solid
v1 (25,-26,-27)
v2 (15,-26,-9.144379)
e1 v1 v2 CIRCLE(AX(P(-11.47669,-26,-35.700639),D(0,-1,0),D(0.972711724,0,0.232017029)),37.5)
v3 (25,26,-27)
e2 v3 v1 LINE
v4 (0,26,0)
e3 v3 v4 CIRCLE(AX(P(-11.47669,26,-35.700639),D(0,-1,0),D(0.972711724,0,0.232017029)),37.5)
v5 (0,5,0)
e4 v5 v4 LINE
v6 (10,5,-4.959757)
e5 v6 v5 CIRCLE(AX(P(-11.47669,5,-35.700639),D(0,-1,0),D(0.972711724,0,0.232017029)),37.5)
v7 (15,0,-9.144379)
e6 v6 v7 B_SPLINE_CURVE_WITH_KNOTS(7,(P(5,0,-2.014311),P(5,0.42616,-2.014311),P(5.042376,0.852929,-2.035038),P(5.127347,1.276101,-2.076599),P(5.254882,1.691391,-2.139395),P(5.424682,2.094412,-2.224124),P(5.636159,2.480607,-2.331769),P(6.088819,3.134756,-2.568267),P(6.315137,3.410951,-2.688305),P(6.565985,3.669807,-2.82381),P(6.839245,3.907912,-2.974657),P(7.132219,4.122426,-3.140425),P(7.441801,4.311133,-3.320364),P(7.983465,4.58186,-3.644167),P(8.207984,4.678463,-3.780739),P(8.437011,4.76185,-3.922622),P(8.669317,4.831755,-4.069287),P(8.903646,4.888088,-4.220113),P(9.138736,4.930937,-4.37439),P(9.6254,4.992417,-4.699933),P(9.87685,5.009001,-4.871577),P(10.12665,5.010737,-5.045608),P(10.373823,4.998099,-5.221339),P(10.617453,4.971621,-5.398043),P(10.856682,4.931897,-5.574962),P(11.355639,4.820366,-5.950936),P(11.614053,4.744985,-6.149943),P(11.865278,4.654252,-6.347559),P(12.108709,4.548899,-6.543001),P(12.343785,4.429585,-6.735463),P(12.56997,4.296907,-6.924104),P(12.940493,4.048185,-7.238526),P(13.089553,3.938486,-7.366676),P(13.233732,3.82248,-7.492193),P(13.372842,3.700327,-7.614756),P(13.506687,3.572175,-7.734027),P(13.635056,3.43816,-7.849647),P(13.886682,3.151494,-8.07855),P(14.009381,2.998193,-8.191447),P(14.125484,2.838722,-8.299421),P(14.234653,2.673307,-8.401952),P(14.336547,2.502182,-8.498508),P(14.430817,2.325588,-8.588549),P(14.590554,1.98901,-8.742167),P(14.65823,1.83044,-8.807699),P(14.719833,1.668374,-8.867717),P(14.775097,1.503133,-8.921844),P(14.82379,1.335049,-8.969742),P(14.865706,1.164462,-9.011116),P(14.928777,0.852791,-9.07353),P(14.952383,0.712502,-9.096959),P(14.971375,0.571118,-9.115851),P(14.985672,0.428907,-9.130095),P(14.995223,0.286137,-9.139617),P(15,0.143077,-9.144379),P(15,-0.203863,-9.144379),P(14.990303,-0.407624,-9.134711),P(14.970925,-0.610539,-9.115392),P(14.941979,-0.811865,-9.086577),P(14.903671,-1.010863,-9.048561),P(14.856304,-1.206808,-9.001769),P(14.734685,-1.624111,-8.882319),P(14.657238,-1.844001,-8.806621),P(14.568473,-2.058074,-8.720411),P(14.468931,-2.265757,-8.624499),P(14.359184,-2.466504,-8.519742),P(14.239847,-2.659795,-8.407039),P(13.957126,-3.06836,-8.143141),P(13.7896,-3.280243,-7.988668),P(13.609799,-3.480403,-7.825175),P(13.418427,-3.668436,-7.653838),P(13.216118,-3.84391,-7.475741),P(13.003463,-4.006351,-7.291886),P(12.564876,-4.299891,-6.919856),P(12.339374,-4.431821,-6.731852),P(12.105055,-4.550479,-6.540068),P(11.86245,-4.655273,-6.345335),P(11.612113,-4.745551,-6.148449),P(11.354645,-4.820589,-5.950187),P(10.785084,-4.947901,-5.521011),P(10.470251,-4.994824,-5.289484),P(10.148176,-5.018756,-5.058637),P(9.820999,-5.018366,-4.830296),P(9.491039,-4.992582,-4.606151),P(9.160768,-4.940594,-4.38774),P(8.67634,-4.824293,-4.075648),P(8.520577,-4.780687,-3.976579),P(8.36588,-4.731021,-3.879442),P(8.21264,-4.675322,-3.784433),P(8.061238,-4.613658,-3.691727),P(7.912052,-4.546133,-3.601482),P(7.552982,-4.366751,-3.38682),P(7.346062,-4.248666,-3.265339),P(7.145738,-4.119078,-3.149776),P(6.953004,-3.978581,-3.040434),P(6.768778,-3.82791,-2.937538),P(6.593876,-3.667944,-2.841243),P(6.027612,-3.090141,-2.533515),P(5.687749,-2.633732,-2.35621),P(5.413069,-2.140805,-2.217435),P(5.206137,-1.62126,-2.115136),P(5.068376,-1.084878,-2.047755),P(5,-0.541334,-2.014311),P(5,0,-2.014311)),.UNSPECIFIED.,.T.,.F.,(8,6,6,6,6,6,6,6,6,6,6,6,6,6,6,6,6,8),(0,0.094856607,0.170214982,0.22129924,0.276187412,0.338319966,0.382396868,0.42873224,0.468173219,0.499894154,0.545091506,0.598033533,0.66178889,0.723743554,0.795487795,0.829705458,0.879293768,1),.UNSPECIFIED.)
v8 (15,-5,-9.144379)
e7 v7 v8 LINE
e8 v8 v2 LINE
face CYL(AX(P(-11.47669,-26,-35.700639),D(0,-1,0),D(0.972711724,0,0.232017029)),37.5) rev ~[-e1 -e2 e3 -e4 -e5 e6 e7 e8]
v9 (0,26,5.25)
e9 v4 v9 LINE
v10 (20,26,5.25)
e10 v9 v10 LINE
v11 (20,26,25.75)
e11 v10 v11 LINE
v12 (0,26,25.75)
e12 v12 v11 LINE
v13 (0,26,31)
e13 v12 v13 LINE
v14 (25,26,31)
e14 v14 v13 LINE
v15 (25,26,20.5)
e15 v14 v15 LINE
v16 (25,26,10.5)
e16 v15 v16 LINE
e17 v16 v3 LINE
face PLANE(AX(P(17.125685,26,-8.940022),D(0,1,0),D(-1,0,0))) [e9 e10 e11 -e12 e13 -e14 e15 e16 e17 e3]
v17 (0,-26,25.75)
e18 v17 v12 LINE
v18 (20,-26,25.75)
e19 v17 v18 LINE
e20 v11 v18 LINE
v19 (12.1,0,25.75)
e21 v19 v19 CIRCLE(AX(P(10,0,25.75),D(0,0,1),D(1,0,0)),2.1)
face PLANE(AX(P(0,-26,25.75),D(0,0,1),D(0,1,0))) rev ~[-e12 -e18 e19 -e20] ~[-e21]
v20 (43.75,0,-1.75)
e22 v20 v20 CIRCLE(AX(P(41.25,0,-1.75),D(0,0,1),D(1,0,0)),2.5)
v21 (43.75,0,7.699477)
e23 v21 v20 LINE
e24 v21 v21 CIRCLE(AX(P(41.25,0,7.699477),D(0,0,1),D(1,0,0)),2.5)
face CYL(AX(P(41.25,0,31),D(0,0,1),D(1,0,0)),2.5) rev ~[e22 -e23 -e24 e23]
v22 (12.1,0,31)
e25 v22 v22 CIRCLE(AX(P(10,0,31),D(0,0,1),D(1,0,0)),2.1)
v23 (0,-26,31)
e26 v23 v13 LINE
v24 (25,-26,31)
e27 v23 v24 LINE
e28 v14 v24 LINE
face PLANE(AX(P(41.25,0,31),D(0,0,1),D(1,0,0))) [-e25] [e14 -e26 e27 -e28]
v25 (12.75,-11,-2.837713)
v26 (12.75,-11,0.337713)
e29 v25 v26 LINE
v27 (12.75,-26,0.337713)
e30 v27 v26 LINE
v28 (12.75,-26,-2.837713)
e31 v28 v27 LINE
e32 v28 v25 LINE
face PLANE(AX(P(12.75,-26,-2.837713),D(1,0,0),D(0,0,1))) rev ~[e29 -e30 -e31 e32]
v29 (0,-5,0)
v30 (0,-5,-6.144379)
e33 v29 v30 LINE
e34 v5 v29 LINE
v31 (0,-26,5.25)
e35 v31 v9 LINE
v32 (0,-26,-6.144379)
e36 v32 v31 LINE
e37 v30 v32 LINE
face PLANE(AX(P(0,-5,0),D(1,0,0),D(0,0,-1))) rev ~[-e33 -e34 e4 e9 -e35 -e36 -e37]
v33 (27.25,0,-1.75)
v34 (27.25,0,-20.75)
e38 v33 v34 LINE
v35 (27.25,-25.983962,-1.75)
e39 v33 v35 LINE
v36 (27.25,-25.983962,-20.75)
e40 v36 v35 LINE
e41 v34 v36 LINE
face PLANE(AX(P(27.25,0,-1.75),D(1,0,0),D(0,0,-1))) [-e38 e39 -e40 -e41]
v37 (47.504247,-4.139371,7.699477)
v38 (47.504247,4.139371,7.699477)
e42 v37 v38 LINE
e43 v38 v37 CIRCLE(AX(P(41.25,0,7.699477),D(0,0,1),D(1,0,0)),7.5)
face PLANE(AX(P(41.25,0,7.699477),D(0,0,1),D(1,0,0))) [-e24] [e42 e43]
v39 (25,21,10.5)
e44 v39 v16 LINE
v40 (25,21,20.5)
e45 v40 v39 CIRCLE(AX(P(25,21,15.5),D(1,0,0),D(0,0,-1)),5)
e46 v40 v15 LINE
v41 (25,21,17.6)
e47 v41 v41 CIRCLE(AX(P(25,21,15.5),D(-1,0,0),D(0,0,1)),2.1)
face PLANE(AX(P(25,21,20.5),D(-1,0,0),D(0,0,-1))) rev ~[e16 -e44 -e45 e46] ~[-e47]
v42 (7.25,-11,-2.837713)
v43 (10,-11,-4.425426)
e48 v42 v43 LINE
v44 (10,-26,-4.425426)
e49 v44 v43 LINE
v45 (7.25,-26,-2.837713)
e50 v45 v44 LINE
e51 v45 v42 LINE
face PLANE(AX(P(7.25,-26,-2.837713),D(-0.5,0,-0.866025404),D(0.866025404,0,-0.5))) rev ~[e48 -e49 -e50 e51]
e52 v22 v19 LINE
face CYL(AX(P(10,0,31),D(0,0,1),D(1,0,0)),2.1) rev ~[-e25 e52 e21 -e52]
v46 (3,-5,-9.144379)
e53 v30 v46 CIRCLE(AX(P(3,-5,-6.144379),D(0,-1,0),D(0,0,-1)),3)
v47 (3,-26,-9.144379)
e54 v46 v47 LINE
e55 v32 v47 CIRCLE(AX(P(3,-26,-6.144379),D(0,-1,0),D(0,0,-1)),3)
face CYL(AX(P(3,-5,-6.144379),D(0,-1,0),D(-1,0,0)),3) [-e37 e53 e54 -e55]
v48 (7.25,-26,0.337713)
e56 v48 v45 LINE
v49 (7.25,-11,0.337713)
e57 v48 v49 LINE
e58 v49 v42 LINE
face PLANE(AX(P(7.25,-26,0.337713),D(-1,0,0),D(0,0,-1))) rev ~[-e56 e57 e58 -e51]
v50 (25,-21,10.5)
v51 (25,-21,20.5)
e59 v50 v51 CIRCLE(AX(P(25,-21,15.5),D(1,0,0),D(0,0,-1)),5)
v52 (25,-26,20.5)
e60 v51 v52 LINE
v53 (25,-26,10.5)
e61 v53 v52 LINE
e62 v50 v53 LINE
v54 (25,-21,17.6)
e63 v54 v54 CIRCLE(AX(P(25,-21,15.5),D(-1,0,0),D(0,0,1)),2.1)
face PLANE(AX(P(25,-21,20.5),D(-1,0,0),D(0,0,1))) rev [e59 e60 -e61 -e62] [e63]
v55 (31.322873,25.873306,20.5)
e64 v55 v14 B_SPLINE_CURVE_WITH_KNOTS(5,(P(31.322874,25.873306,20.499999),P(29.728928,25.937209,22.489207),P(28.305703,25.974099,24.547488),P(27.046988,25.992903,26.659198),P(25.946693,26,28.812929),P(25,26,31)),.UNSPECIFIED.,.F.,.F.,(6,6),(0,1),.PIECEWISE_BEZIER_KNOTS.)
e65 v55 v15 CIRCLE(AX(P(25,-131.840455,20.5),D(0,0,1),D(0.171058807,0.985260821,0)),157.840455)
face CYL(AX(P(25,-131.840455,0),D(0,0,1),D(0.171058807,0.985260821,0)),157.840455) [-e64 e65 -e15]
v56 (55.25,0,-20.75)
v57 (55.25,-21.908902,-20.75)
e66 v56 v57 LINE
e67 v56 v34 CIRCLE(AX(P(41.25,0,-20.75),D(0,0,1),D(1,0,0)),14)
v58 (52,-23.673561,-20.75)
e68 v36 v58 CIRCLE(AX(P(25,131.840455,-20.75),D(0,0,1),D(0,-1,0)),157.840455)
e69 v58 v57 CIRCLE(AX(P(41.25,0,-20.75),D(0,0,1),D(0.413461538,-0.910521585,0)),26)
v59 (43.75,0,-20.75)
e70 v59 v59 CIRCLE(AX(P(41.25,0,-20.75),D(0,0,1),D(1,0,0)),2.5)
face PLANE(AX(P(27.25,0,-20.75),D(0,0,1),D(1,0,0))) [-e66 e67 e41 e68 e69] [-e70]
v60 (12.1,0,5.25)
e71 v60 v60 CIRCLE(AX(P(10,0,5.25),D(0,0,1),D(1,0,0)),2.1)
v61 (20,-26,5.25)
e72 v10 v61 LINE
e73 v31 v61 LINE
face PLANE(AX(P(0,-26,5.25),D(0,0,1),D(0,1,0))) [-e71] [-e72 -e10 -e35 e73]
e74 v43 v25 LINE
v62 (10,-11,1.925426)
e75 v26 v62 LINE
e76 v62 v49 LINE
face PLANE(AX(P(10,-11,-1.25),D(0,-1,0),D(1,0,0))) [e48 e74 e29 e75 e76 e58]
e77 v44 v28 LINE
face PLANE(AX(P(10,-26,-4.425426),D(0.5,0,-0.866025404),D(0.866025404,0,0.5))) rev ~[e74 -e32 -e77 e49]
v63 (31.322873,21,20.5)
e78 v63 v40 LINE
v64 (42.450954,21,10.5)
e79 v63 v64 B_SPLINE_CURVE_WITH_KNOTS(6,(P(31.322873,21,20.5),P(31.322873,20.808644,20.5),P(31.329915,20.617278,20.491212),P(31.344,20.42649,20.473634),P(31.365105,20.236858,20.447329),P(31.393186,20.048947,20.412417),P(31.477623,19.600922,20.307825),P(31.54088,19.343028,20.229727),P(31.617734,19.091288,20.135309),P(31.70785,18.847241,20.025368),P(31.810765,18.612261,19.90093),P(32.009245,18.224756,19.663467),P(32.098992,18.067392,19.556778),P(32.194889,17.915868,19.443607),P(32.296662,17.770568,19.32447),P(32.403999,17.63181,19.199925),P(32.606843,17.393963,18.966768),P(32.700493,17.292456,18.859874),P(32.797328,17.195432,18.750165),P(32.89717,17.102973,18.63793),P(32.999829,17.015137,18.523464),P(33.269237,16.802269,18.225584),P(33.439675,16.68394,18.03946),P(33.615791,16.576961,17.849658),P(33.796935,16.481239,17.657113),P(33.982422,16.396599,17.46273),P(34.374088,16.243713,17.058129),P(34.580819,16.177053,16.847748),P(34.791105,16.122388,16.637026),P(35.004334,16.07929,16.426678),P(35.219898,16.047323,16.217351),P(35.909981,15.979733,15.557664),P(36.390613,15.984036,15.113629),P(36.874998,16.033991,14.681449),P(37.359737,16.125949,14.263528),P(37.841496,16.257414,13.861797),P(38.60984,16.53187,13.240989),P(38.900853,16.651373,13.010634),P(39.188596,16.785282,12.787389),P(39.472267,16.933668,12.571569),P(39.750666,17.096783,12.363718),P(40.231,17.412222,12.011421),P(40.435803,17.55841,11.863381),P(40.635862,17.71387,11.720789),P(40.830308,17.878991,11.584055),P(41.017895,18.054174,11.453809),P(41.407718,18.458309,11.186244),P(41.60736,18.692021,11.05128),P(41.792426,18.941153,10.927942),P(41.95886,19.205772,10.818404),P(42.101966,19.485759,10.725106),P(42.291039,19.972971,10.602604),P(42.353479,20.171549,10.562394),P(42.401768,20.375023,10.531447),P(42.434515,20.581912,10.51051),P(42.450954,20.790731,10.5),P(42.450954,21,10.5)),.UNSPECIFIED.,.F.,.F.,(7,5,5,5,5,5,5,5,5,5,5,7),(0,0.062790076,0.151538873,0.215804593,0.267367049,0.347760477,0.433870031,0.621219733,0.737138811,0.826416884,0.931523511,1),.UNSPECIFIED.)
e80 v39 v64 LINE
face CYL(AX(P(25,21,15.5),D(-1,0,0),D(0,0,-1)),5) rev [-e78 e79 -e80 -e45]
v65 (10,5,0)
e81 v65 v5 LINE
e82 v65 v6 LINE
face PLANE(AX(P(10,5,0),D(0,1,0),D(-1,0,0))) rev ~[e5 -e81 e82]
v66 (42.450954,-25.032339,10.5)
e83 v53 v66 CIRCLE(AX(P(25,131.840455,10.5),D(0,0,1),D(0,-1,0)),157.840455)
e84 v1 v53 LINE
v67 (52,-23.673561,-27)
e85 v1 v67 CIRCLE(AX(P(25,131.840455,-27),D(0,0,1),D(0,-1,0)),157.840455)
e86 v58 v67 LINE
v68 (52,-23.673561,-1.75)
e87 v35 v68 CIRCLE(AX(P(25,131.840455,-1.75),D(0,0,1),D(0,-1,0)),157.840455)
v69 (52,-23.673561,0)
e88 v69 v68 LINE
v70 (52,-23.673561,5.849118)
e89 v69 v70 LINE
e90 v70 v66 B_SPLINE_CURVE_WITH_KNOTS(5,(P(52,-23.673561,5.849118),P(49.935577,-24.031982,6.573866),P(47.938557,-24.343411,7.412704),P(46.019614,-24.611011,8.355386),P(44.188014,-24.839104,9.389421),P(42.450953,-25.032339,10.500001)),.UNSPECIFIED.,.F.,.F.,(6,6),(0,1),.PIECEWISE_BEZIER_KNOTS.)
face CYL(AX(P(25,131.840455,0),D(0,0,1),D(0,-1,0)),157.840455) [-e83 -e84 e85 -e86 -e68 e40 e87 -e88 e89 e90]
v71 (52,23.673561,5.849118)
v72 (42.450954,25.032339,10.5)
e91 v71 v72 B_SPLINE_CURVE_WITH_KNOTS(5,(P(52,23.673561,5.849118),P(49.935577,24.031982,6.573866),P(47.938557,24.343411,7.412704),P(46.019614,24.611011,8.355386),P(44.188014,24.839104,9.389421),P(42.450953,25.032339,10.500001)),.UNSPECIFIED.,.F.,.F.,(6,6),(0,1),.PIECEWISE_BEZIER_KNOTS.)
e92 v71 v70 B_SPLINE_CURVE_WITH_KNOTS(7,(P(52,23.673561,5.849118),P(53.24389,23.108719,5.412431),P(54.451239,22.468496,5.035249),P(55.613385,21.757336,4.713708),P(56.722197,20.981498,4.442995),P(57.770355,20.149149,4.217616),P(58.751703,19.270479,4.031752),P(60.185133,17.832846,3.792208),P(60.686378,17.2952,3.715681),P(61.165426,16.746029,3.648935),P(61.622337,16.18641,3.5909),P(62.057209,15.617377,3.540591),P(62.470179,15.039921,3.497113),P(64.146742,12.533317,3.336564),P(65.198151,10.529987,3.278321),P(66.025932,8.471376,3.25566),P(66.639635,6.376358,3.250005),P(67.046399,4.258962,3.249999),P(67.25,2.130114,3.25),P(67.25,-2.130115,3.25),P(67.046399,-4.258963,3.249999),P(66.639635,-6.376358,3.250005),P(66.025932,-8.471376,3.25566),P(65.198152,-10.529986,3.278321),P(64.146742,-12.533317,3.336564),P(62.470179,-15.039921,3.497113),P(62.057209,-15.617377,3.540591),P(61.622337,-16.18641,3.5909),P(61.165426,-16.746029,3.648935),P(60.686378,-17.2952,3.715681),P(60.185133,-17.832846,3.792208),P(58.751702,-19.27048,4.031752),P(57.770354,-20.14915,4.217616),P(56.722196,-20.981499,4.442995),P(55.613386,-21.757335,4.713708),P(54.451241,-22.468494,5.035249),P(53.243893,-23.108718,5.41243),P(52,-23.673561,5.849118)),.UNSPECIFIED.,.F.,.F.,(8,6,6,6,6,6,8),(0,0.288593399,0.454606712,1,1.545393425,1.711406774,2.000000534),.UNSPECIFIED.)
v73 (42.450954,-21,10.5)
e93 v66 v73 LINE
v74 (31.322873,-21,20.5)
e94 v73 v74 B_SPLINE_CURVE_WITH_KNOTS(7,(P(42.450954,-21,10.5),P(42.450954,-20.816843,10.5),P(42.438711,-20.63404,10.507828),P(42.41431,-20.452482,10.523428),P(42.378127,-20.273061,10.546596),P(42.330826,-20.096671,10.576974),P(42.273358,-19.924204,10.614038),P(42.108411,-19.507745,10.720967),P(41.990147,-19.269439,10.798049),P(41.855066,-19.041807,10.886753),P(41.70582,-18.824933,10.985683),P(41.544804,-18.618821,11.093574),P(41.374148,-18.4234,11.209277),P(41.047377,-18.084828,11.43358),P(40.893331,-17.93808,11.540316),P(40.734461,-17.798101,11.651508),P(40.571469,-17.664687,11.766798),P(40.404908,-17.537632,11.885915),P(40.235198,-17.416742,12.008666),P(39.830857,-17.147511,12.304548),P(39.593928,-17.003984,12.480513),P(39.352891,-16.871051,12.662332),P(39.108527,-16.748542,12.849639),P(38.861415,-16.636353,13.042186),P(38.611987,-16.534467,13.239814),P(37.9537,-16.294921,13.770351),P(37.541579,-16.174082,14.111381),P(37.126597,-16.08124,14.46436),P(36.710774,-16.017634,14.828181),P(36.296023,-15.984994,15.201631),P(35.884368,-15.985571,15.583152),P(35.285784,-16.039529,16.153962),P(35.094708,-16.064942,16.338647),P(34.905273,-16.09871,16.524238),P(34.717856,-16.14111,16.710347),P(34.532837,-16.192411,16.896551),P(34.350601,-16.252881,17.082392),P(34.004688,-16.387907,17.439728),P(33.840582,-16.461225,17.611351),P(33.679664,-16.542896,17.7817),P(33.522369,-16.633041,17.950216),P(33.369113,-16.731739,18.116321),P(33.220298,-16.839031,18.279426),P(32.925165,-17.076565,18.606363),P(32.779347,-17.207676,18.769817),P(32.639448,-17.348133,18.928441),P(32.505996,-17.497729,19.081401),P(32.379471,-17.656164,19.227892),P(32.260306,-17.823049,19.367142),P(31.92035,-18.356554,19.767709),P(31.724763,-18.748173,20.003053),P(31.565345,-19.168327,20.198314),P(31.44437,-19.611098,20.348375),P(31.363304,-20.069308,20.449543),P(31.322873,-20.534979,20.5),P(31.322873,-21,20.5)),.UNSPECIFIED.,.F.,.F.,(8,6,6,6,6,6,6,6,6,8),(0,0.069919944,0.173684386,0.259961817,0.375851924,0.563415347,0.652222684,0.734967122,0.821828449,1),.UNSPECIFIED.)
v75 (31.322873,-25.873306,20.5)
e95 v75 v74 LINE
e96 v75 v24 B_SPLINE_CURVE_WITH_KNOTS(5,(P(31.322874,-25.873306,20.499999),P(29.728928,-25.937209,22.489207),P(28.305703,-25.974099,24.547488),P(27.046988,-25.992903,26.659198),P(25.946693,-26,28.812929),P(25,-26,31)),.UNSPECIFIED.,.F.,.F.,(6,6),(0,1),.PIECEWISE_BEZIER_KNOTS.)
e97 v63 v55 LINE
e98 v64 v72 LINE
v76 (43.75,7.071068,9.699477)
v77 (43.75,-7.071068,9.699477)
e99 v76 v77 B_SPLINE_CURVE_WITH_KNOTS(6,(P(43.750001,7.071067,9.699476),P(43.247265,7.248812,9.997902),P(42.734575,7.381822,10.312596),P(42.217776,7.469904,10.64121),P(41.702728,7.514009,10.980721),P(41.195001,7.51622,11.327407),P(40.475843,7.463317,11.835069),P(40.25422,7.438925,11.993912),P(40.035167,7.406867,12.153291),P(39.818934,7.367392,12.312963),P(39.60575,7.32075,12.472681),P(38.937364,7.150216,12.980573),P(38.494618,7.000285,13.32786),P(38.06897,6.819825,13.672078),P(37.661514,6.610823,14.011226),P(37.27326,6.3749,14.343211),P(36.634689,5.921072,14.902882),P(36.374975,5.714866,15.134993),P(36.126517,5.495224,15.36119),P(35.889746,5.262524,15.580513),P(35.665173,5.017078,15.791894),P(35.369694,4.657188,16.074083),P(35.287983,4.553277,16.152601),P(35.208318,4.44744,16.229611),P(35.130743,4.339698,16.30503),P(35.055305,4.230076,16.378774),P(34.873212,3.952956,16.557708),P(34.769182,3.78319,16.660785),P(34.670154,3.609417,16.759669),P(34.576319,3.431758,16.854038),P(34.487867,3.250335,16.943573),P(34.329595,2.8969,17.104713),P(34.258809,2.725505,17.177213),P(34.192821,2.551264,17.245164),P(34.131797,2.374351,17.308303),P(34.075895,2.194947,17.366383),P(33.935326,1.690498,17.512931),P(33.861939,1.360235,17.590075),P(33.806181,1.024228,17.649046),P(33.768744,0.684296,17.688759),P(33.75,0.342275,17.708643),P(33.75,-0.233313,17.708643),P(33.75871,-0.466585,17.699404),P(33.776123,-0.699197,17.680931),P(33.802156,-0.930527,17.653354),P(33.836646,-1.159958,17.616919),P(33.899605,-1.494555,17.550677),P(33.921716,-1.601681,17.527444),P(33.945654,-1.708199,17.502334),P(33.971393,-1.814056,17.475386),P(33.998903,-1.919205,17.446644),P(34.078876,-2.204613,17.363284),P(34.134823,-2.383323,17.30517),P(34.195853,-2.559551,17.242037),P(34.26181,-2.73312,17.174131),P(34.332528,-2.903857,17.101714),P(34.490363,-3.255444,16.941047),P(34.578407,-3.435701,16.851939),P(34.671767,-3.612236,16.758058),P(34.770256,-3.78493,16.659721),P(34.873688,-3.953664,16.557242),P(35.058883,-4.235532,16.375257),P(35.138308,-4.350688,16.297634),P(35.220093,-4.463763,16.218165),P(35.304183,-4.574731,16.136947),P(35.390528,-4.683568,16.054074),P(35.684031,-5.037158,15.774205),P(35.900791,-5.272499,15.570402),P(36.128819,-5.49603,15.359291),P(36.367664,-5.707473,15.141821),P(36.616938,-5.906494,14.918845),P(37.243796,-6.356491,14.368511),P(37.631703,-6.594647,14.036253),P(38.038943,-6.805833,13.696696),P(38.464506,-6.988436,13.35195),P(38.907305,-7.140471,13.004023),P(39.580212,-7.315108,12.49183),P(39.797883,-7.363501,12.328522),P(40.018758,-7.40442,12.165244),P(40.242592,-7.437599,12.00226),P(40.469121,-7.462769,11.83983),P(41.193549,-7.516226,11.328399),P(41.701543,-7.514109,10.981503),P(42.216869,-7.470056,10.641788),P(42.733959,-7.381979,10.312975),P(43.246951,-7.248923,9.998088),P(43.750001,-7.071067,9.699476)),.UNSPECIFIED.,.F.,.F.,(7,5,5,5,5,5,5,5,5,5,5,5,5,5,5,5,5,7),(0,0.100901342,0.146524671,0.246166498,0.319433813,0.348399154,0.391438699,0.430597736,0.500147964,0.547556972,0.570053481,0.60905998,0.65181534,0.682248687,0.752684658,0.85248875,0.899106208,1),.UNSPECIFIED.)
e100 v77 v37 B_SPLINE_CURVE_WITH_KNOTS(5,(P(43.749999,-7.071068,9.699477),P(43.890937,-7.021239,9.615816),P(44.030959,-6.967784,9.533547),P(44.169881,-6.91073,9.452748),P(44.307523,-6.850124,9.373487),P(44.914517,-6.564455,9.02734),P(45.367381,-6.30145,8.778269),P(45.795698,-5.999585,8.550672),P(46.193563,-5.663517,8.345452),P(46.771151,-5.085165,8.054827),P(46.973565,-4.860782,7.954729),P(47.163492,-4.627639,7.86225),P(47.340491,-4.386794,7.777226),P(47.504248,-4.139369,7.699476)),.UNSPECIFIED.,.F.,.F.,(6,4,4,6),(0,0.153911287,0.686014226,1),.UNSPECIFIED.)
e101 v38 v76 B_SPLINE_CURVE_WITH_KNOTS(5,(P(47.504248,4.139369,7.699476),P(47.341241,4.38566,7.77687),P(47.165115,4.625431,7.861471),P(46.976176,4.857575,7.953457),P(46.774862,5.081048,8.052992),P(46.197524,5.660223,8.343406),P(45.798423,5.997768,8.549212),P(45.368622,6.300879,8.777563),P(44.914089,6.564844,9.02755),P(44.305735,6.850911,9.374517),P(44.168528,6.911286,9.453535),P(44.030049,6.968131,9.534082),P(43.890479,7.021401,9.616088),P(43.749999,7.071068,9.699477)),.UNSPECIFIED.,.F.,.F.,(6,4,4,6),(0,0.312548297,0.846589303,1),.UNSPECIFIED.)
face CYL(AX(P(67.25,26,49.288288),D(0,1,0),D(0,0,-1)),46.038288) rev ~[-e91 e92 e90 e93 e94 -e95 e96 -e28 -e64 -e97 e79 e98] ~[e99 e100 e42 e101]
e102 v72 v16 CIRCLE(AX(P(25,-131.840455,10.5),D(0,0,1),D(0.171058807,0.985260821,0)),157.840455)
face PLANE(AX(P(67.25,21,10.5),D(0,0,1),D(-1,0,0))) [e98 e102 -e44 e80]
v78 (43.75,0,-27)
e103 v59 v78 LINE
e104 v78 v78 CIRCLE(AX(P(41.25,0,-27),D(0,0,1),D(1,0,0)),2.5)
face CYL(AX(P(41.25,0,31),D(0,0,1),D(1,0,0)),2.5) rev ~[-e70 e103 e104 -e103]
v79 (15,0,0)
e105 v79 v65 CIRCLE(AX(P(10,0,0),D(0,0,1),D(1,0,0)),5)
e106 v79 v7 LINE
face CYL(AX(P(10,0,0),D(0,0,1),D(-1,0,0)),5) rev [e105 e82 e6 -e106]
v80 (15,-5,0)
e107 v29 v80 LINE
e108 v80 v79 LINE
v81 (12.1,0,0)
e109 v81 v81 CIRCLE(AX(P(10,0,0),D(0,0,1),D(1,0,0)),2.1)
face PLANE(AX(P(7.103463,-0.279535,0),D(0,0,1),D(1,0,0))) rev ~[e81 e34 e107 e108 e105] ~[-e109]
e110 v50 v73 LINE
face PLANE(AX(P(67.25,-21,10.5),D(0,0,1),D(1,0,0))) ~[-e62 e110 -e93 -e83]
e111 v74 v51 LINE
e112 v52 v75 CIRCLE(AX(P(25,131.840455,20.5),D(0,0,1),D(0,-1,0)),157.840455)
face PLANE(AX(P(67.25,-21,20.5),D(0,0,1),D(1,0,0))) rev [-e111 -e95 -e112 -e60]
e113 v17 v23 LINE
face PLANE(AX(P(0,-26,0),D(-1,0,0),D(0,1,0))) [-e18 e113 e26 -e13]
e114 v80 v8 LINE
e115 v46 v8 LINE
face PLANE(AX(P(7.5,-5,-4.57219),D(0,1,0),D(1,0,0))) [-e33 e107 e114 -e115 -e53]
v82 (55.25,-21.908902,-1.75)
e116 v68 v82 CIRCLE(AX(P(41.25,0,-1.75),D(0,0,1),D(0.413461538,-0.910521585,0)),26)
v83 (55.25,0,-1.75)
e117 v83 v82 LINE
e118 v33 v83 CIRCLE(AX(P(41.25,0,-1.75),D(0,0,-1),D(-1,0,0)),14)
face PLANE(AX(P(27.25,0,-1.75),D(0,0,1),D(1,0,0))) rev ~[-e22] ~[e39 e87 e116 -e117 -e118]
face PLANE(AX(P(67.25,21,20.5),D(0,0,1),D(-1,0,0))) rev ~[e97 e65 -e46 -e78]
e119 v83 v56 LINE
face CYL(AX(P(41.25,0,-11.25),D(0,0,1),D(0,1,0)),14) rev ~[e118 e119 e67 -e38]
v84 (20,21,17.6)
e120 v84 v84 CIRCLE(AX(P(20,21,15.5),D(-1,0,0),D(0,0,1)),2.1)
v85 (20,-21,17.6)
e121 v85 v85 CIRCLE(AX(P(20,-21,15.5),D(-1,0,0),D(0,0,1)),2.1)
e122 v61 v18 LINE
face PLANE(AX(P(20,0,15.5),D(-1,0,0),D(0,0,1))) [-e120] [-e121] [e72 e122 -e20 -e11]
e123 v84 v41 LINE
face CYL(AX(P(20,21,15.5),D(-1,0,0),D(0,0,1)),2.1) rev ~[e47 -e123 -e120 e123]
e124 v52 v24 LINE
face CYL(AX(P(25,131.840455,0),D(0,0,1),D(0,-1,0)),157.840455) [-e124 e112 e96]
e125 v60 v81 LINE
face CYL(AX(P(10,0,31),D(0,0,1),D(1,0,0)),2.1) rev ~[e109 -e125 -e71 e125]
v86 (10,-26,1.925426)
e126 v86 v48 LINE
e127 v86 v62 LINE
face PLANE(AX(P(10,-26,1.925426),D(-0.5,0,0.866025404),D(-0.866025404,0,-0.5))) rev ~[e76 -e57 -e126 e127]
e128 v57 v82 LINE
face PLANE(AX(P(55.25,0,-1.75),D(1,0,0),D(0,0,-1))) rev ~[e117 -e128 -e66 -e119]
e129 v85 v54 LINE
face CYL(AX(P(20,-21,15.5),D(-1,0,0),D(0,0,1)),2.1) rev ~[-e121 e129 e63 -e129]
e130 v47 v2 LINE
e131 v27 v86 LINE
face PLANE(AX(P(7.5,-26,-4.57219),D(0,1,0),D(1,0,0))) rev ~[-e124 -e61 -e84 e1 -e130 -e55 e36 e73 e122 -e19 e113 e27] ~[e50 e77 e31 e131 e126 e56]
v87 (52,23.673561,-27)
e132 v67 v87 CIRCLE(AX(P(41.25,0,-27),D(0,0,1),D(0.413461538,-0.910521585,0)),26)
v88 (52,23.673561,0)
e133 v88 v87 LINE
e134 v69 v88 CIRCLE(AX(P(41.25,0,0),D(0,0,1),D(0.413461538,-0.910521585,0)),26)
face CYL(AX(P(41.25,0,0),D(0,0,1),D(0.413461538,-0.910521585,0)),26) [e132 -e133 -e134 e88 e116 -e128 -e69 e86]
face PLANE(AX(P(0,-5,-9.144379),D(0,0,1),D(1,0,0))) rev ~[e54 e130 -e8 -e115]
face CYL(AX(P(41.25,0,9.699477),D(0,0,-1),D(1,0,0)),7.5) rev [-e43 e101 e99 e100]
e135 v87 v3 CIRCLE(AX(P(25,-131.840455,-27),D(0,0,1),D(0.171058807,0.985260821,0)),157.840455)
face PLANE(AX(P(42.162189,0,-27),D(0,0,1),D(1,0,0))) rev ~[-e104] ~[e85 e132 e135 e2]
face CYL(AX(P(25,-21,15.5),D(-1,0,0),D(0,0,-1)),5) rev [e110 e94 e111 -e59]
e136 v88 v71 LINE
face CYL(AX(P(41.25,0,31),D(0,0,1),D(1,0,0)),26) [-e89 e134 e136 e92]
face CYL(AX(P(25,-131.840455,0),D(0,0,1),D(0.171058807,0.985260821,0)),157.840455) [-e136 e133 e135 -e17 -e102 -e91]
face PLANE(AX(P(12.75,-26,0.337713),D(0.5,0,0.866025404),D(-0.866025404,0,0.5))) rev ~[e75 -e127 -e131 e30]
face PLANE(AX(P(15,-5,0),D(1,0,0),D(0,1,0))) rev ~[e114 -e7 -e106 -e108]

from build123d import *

# Parameters (mm, degrees)
SKETCH_1_W              = 52
SKETCH_1_H              = 52
EXTRUDE_1_DEPTH         = 31
SKETCH_2_W              = 20.5
SKETCH_2_H              = 52
CUT_EXTRUDE_1_DEPTH     = 20
SKETCH_5_R              = 26
EXTRUDE_2_DEPTH         = 31
CUT_EXTRUDE_2_DEPTH     = 32
SKETCH_7_W              = 20
SKETCH_7_H              = 20.5
CUT_EXTRUDE_3_DEPTH     = 53
EXTRUDE_3_DEPTH         = 27
SKETCH_10_W             = 19
SKETCH_10_H             = 14
SKETCH_11_W             = 19
SKETCH_11_H             = 28
CUT_EXTRUDE_4_DEPTH     = 27
EXTRUDE_4_DEPTH         = 52
SKETCH_13_R             = 2.1
CUT_EXTRUDE_5_DEPTH     = 59
SKETCH_14_R             = 2.1
CUT_EXTRUDE_6_DEPTH     = 48.25
SKETCH_15_R             = 5
CUT_EXTRUDE_7_DEPTH     = 43.2500001
SKETCH_17_W             = 10
SKETCH_17_H             = 42.25
CUT_EXTRUDE_8_DEPTH     = 6.0000001
SKETCH_18_R             = 5
CUT_EXTRUDE_9_DEPTH     = 28.0000001
SKETCH_19_R             = 2.5
CUT_EXTRUDE_10_DEPTH    = 59.0000001
CUT_EXTRUDE1_DEPTH      = 53.0000001
SKETCH3_R               = 7.5
CUT_EXTRUDE2_DEPTH      = 22.300523217
CUT_EXTRUDE2_DEPTH_BACK = 2
CUT_EXTRUDE_11_DEPTH    = 28.0000001
SKETCH_21_W             = 15
SKETCH_21_H             = 9.144379334
EXTRUDE_5_DEPTH         = 21
CUT_EXTRUDE_12_DEPTH    = 15
FILLET_1_R              = 3


with BuildPart() as part:
    # Эскиз1 → Бобышка-Вытянуть1 (new body)
    with BuildSketch(Plane.XY):
        with Locations((26, 0)):
            Rectangle(SKETCH_1_W, SKETCH_1_H)
    extrude(amount=EXTRUDE_1_DEPTH)

    # Эскиз2 → Вырез-Вытянуть1 (cut)
    with BuildSketch(Plane.ZY):
        with Locations((15.5, 0)):
            Rectangle(SKETCH_2_W, SKETCH_2_H)
    extrude(amount=-CUT_EXTRUDE_1_DEPTH, mode=Mode.SUBTRACT)

    # Эскиз5 → Бобышка-Вытянуть2 (add)
    with BuildSketch(Plane.XY.offset(31)):
        with Locations((41.25, 0)):
            Circle(SKETCH_5_R)
    extrude(amount=-EXTRUDE_2_DEPTH)

    # Эскиз6 → Вырез-Вытянуть2 (cut, through all)
    with BuildSketch(Plane.XY.offset(31)):
        with BuildLine():
            Line((52, 23.673561202), (52, 26))
            Line((52, 26), (25, 26))
            ThreePointArc((25, 26), (38.550021379, 25.417314778), (52, 23.673561202))
        make_face()
    cut_extrude_2 = extrude(amount=-CUT_EXTRUDE_2_DEPTH, mode=Mode.SUBTRACT)

    # Зеркальное отражение1: Вырез-Вытянуть2 across plane
    add(cut_extrude_2.mirror(Plane(origin=(0, 0, 0), x_dir=(0, 0, 1), z_dir=(0, -1, 0))), mode=Mode.SUBTRACT)

    # Эскиз7 → Вырез-Вытянуть3 (cut, through all)
    with BuildSketch(Plane(origin=(0, 26, 0), x_dir=(1, 0, 0), z_dir=(0, 1, 0))):
        with Locations((10, -15.5)):
            Rectangle(SKETCH_7_W, SKETCH_7_H)
    extrude(amount=-CUT_EXTRUDE_3_DEPTH, mode=Mode.SUBTRACT)

    # Эскиз9 → Бобышка-Вытянуть3 (add)
    with BuildSketch(Plane(origin=(0, 0, 0), x_dir=(-1, 0, 0), z_dir=(0, 0, -1))):
        with BuildLine():
            Line((-25, 26), (-25, -26))
            ThreePointArc((-25, -26), (-38.550021379, -25.417314778), (-52, -23.673561202))
            ThreePointArc((-52, -23.673561202), (-67.25, 0), (-52, 23.673561202))
            ThreePointArc((-52, 23.673561202), (-38.550021379, 25.417314778), (-25, 26))
        make_face()
    extrude(amount=EXTRUDE_3_DEPTH)

    # Эскиз10 → Вырез-Повернуть2 (revolve, cut)
    with BuildSketch(Plane.ZY.offset(-41.25)):
        with Locations((-11.25, 7)):
            Rectangle(SKETCH_10_W, SKETCH_10_H)
    revolve(axis=Axis((41.25, 0, -20.75), (0, 0, 1)), mode=Mode.SUBTRACT)

    # Эскиз11 → Вырез-Вытянуть4 (cut, through all)
    with BuildSketch(Plane(origin=(0, 0, 0), x_dir=(0, 0, -1), z_dir=(0, -1, 0))):
        with Locations((11.25, 41.25)):
            Rectangle(SKETCH_11_W, SKETCH_11_H)
    extrude(amount=CUT_EXTRUDE_4_DEPTH, mode=Mode.SUBTRACT)

    # Эскиз12 → Бобышка-Вытянуть4 (add)
    with BuildSketch(Plane.XZ.offset(26)):
        with BuildLine():
            Line((0, 0), (25, 0))
            Line((25, 0), (25, -27))
            ThreePointArc((25, -27), (16.039335617, -10.222837391), (0, 0))
        make_face()
    extrude(amount=-EXTRUDE_4_DEPTH)

    # Эскиз13 → Вырез-Вытянуть5 (cut, through all)
    with BuildSketch(Plane.XY.offset(31)):
        with Locations((10, 0)):
            Circle(SKETCH_13_R)
    extrude(amount=-CUT_EXTRUDE_5_DEPTH, mode=Mode.SUBTRACT)

    # Эскиз14 → Вырез-Вытянуть6 (cut, through all)
    with BuildSketch(Plane.ZY.offset(-20)):
        with Locations((15.5, -21)):
            Circle(SKETCH_14_R)
        with Locations((15.5, 21)):
            Circle(SKETCH_14_R)
    extrude(amount=-CUT_EXTRUDE_6_DEPTH, mode=Mode.SUBTRACT)

    # Эскиз15 → Вырез-Вытянуть7 (cut, through all)
    with BuildSketch(Plane(origin=(25, 0, 0), x_dir=(0, 0, -1), z_dir=(1, 0, 0))):
        with Locations((-15.5, 21)):
            Circle(SKETCH_15_R)
        with Locations((-15.5, -21)):
            Circle(SKETCH_15_R)
    extrude(amount=CUT_EXTRUDE_7_DEPTH, mode=Mode.SUBTRACT)

    # Эскиз17 → Вырез-Вытянуть8 (cut, through all)
    with BuildSketch(Plane(origin=(0, 21, 0), x_dir=(0, 0, -1), z_dir=(0, 1, 0))):
        with Locations((-15.5, -46.125)):
            Rectangle(SKETCH_17_W, SKETCH_17_H)
    cut_extrude_8 = extrude(amount=CUT_EXTRUDE_8_DEPTH, mode=Mode.SUBTRACT)

    # Зеркальное отражение2: Вырез-Вытянуть8 across plane
    add(cut_extrude_8.mirror(Plane(origin=(0, 0, 0), x_dir=(0, 0, 1), z_dir=(0, -1, 0))), mode=Mode.SUBTRACT)

    # Эскиз18 → Вырез-Вытянуть9 (cut, through all)
    with BuildSketch(Plane(origin=(0, 0, 0), x_dir=(-1, 0, 0), z_dir=(0, 0, -1))):
        with Locations((-10, 0)):
            Circle(SKETCH_18_R)
    extrude(amount=CUT_EXTRUDE_9_DEPTH, mode=Mode.SUBTRACT)

    # Эскиз19 → Вырез-Вытянуть10 (cut, through all)
    with BuildSketch(Plane.XY.offset(31)):
        with Locations((41.25, 0)):
            Circle(SKETCH_19_R)
    extrude(amount=-CUT_EXTRUDE_10_DEPTH, mode=Mode.SUBTRACT)

    # Sketch1 → Cut-Extrude1 (cut, through all)
    with BuildSketch(Plane(origin=(0, 26, 0), x_dir=(1, 0, 0), z_dir=(0, 1, 0))):
        with BuildLine():
            Line((25, -31), (67.25, -31))
            Line((67.25, -31), (67.25, -3.25))
            ThreePointArc((67.25, -3.25), (41.975877859, -10.807868092), (25, -31))
        make_face()
    extrude(amount=-CUT_EXTRUDE1_DEPTH, mode=Mode.SUBTRACT)

    # Sketch3 → Cut-Extrude2 (cut, two sides)
    with BuildSketch(Plane.XY.offset(9.699476883)) as cut_extrude2_sk:
        with Locations((41.25, 0)):
            Circle(SKETCH3_R)
    extrude(amount=CUT_EXTRUDE2_DEPTH, mode=Mode.SUBTRACT)
    extrude(cut_extrude2_sk.sketch, amount=-CUT_EXTRUDE2_DEPTH_BACK, mode=Mode.SUBTRACT)

    # Эскиз20 → Вырез-Вытянуть11 (cut, through all)
    with BuildSketch(Plane(origin=(0, 0, 0), x_dir=(-1, 0, 0), z_dir=(0, 0, -1))):
        with BuildLine():
            Line((-10, 5), (0, 5))
            Line((0, 5), (0, -5))
            Line((0, -5), (-15, -5))
            Line((-15, -5), (-15, 0))
            ThreePointArc((-15, 0), (-13.535533906, 3.535533906), (-10, 5))
        make_face()
    extrude(amount=CUT_EXTRUDE_11_DEPTH, mode=Mode.SUBTRACT)

    # Эскиз21 → Бобышка-Вытянуть5 (add)
    with BuildSketch(Plane(origin=(0, -5, 0), x_dir=(1, 0, 0), z_dir=(0, 1, 0))):
        with Locations((7.5, 4.572189667)):
            Rectangle(SKETCH_21_W, SKETCH_21_H)
    extrude(amount=-EXTRUDE_5_DEPTH)

    # Эскиз22 → Вырез-Вытянуть12 (cut)
    with BuildSketch(Plane.XZ.offset(26)):
        Polygon((10, 1.925426481), (7.25, 0.33771324), (7.25, -2.83771324), (10, -4.425426481), (12.75, -2.83771324), (12.75, 0.33771324), align=None)
    extrude(amount=-CUT_EXTRUDE_12_DEPTH, mode=Mode.SUBTRACT)

    # Скругление1
    fillet_1_edges = [part.edges().sort_by_distance(p)[0] for p in [
        (0, -15.5, -9.144379334),
    ]]
    fillet(fillet_1_edges, radius=FILLET_1_R)


solid = part.part
